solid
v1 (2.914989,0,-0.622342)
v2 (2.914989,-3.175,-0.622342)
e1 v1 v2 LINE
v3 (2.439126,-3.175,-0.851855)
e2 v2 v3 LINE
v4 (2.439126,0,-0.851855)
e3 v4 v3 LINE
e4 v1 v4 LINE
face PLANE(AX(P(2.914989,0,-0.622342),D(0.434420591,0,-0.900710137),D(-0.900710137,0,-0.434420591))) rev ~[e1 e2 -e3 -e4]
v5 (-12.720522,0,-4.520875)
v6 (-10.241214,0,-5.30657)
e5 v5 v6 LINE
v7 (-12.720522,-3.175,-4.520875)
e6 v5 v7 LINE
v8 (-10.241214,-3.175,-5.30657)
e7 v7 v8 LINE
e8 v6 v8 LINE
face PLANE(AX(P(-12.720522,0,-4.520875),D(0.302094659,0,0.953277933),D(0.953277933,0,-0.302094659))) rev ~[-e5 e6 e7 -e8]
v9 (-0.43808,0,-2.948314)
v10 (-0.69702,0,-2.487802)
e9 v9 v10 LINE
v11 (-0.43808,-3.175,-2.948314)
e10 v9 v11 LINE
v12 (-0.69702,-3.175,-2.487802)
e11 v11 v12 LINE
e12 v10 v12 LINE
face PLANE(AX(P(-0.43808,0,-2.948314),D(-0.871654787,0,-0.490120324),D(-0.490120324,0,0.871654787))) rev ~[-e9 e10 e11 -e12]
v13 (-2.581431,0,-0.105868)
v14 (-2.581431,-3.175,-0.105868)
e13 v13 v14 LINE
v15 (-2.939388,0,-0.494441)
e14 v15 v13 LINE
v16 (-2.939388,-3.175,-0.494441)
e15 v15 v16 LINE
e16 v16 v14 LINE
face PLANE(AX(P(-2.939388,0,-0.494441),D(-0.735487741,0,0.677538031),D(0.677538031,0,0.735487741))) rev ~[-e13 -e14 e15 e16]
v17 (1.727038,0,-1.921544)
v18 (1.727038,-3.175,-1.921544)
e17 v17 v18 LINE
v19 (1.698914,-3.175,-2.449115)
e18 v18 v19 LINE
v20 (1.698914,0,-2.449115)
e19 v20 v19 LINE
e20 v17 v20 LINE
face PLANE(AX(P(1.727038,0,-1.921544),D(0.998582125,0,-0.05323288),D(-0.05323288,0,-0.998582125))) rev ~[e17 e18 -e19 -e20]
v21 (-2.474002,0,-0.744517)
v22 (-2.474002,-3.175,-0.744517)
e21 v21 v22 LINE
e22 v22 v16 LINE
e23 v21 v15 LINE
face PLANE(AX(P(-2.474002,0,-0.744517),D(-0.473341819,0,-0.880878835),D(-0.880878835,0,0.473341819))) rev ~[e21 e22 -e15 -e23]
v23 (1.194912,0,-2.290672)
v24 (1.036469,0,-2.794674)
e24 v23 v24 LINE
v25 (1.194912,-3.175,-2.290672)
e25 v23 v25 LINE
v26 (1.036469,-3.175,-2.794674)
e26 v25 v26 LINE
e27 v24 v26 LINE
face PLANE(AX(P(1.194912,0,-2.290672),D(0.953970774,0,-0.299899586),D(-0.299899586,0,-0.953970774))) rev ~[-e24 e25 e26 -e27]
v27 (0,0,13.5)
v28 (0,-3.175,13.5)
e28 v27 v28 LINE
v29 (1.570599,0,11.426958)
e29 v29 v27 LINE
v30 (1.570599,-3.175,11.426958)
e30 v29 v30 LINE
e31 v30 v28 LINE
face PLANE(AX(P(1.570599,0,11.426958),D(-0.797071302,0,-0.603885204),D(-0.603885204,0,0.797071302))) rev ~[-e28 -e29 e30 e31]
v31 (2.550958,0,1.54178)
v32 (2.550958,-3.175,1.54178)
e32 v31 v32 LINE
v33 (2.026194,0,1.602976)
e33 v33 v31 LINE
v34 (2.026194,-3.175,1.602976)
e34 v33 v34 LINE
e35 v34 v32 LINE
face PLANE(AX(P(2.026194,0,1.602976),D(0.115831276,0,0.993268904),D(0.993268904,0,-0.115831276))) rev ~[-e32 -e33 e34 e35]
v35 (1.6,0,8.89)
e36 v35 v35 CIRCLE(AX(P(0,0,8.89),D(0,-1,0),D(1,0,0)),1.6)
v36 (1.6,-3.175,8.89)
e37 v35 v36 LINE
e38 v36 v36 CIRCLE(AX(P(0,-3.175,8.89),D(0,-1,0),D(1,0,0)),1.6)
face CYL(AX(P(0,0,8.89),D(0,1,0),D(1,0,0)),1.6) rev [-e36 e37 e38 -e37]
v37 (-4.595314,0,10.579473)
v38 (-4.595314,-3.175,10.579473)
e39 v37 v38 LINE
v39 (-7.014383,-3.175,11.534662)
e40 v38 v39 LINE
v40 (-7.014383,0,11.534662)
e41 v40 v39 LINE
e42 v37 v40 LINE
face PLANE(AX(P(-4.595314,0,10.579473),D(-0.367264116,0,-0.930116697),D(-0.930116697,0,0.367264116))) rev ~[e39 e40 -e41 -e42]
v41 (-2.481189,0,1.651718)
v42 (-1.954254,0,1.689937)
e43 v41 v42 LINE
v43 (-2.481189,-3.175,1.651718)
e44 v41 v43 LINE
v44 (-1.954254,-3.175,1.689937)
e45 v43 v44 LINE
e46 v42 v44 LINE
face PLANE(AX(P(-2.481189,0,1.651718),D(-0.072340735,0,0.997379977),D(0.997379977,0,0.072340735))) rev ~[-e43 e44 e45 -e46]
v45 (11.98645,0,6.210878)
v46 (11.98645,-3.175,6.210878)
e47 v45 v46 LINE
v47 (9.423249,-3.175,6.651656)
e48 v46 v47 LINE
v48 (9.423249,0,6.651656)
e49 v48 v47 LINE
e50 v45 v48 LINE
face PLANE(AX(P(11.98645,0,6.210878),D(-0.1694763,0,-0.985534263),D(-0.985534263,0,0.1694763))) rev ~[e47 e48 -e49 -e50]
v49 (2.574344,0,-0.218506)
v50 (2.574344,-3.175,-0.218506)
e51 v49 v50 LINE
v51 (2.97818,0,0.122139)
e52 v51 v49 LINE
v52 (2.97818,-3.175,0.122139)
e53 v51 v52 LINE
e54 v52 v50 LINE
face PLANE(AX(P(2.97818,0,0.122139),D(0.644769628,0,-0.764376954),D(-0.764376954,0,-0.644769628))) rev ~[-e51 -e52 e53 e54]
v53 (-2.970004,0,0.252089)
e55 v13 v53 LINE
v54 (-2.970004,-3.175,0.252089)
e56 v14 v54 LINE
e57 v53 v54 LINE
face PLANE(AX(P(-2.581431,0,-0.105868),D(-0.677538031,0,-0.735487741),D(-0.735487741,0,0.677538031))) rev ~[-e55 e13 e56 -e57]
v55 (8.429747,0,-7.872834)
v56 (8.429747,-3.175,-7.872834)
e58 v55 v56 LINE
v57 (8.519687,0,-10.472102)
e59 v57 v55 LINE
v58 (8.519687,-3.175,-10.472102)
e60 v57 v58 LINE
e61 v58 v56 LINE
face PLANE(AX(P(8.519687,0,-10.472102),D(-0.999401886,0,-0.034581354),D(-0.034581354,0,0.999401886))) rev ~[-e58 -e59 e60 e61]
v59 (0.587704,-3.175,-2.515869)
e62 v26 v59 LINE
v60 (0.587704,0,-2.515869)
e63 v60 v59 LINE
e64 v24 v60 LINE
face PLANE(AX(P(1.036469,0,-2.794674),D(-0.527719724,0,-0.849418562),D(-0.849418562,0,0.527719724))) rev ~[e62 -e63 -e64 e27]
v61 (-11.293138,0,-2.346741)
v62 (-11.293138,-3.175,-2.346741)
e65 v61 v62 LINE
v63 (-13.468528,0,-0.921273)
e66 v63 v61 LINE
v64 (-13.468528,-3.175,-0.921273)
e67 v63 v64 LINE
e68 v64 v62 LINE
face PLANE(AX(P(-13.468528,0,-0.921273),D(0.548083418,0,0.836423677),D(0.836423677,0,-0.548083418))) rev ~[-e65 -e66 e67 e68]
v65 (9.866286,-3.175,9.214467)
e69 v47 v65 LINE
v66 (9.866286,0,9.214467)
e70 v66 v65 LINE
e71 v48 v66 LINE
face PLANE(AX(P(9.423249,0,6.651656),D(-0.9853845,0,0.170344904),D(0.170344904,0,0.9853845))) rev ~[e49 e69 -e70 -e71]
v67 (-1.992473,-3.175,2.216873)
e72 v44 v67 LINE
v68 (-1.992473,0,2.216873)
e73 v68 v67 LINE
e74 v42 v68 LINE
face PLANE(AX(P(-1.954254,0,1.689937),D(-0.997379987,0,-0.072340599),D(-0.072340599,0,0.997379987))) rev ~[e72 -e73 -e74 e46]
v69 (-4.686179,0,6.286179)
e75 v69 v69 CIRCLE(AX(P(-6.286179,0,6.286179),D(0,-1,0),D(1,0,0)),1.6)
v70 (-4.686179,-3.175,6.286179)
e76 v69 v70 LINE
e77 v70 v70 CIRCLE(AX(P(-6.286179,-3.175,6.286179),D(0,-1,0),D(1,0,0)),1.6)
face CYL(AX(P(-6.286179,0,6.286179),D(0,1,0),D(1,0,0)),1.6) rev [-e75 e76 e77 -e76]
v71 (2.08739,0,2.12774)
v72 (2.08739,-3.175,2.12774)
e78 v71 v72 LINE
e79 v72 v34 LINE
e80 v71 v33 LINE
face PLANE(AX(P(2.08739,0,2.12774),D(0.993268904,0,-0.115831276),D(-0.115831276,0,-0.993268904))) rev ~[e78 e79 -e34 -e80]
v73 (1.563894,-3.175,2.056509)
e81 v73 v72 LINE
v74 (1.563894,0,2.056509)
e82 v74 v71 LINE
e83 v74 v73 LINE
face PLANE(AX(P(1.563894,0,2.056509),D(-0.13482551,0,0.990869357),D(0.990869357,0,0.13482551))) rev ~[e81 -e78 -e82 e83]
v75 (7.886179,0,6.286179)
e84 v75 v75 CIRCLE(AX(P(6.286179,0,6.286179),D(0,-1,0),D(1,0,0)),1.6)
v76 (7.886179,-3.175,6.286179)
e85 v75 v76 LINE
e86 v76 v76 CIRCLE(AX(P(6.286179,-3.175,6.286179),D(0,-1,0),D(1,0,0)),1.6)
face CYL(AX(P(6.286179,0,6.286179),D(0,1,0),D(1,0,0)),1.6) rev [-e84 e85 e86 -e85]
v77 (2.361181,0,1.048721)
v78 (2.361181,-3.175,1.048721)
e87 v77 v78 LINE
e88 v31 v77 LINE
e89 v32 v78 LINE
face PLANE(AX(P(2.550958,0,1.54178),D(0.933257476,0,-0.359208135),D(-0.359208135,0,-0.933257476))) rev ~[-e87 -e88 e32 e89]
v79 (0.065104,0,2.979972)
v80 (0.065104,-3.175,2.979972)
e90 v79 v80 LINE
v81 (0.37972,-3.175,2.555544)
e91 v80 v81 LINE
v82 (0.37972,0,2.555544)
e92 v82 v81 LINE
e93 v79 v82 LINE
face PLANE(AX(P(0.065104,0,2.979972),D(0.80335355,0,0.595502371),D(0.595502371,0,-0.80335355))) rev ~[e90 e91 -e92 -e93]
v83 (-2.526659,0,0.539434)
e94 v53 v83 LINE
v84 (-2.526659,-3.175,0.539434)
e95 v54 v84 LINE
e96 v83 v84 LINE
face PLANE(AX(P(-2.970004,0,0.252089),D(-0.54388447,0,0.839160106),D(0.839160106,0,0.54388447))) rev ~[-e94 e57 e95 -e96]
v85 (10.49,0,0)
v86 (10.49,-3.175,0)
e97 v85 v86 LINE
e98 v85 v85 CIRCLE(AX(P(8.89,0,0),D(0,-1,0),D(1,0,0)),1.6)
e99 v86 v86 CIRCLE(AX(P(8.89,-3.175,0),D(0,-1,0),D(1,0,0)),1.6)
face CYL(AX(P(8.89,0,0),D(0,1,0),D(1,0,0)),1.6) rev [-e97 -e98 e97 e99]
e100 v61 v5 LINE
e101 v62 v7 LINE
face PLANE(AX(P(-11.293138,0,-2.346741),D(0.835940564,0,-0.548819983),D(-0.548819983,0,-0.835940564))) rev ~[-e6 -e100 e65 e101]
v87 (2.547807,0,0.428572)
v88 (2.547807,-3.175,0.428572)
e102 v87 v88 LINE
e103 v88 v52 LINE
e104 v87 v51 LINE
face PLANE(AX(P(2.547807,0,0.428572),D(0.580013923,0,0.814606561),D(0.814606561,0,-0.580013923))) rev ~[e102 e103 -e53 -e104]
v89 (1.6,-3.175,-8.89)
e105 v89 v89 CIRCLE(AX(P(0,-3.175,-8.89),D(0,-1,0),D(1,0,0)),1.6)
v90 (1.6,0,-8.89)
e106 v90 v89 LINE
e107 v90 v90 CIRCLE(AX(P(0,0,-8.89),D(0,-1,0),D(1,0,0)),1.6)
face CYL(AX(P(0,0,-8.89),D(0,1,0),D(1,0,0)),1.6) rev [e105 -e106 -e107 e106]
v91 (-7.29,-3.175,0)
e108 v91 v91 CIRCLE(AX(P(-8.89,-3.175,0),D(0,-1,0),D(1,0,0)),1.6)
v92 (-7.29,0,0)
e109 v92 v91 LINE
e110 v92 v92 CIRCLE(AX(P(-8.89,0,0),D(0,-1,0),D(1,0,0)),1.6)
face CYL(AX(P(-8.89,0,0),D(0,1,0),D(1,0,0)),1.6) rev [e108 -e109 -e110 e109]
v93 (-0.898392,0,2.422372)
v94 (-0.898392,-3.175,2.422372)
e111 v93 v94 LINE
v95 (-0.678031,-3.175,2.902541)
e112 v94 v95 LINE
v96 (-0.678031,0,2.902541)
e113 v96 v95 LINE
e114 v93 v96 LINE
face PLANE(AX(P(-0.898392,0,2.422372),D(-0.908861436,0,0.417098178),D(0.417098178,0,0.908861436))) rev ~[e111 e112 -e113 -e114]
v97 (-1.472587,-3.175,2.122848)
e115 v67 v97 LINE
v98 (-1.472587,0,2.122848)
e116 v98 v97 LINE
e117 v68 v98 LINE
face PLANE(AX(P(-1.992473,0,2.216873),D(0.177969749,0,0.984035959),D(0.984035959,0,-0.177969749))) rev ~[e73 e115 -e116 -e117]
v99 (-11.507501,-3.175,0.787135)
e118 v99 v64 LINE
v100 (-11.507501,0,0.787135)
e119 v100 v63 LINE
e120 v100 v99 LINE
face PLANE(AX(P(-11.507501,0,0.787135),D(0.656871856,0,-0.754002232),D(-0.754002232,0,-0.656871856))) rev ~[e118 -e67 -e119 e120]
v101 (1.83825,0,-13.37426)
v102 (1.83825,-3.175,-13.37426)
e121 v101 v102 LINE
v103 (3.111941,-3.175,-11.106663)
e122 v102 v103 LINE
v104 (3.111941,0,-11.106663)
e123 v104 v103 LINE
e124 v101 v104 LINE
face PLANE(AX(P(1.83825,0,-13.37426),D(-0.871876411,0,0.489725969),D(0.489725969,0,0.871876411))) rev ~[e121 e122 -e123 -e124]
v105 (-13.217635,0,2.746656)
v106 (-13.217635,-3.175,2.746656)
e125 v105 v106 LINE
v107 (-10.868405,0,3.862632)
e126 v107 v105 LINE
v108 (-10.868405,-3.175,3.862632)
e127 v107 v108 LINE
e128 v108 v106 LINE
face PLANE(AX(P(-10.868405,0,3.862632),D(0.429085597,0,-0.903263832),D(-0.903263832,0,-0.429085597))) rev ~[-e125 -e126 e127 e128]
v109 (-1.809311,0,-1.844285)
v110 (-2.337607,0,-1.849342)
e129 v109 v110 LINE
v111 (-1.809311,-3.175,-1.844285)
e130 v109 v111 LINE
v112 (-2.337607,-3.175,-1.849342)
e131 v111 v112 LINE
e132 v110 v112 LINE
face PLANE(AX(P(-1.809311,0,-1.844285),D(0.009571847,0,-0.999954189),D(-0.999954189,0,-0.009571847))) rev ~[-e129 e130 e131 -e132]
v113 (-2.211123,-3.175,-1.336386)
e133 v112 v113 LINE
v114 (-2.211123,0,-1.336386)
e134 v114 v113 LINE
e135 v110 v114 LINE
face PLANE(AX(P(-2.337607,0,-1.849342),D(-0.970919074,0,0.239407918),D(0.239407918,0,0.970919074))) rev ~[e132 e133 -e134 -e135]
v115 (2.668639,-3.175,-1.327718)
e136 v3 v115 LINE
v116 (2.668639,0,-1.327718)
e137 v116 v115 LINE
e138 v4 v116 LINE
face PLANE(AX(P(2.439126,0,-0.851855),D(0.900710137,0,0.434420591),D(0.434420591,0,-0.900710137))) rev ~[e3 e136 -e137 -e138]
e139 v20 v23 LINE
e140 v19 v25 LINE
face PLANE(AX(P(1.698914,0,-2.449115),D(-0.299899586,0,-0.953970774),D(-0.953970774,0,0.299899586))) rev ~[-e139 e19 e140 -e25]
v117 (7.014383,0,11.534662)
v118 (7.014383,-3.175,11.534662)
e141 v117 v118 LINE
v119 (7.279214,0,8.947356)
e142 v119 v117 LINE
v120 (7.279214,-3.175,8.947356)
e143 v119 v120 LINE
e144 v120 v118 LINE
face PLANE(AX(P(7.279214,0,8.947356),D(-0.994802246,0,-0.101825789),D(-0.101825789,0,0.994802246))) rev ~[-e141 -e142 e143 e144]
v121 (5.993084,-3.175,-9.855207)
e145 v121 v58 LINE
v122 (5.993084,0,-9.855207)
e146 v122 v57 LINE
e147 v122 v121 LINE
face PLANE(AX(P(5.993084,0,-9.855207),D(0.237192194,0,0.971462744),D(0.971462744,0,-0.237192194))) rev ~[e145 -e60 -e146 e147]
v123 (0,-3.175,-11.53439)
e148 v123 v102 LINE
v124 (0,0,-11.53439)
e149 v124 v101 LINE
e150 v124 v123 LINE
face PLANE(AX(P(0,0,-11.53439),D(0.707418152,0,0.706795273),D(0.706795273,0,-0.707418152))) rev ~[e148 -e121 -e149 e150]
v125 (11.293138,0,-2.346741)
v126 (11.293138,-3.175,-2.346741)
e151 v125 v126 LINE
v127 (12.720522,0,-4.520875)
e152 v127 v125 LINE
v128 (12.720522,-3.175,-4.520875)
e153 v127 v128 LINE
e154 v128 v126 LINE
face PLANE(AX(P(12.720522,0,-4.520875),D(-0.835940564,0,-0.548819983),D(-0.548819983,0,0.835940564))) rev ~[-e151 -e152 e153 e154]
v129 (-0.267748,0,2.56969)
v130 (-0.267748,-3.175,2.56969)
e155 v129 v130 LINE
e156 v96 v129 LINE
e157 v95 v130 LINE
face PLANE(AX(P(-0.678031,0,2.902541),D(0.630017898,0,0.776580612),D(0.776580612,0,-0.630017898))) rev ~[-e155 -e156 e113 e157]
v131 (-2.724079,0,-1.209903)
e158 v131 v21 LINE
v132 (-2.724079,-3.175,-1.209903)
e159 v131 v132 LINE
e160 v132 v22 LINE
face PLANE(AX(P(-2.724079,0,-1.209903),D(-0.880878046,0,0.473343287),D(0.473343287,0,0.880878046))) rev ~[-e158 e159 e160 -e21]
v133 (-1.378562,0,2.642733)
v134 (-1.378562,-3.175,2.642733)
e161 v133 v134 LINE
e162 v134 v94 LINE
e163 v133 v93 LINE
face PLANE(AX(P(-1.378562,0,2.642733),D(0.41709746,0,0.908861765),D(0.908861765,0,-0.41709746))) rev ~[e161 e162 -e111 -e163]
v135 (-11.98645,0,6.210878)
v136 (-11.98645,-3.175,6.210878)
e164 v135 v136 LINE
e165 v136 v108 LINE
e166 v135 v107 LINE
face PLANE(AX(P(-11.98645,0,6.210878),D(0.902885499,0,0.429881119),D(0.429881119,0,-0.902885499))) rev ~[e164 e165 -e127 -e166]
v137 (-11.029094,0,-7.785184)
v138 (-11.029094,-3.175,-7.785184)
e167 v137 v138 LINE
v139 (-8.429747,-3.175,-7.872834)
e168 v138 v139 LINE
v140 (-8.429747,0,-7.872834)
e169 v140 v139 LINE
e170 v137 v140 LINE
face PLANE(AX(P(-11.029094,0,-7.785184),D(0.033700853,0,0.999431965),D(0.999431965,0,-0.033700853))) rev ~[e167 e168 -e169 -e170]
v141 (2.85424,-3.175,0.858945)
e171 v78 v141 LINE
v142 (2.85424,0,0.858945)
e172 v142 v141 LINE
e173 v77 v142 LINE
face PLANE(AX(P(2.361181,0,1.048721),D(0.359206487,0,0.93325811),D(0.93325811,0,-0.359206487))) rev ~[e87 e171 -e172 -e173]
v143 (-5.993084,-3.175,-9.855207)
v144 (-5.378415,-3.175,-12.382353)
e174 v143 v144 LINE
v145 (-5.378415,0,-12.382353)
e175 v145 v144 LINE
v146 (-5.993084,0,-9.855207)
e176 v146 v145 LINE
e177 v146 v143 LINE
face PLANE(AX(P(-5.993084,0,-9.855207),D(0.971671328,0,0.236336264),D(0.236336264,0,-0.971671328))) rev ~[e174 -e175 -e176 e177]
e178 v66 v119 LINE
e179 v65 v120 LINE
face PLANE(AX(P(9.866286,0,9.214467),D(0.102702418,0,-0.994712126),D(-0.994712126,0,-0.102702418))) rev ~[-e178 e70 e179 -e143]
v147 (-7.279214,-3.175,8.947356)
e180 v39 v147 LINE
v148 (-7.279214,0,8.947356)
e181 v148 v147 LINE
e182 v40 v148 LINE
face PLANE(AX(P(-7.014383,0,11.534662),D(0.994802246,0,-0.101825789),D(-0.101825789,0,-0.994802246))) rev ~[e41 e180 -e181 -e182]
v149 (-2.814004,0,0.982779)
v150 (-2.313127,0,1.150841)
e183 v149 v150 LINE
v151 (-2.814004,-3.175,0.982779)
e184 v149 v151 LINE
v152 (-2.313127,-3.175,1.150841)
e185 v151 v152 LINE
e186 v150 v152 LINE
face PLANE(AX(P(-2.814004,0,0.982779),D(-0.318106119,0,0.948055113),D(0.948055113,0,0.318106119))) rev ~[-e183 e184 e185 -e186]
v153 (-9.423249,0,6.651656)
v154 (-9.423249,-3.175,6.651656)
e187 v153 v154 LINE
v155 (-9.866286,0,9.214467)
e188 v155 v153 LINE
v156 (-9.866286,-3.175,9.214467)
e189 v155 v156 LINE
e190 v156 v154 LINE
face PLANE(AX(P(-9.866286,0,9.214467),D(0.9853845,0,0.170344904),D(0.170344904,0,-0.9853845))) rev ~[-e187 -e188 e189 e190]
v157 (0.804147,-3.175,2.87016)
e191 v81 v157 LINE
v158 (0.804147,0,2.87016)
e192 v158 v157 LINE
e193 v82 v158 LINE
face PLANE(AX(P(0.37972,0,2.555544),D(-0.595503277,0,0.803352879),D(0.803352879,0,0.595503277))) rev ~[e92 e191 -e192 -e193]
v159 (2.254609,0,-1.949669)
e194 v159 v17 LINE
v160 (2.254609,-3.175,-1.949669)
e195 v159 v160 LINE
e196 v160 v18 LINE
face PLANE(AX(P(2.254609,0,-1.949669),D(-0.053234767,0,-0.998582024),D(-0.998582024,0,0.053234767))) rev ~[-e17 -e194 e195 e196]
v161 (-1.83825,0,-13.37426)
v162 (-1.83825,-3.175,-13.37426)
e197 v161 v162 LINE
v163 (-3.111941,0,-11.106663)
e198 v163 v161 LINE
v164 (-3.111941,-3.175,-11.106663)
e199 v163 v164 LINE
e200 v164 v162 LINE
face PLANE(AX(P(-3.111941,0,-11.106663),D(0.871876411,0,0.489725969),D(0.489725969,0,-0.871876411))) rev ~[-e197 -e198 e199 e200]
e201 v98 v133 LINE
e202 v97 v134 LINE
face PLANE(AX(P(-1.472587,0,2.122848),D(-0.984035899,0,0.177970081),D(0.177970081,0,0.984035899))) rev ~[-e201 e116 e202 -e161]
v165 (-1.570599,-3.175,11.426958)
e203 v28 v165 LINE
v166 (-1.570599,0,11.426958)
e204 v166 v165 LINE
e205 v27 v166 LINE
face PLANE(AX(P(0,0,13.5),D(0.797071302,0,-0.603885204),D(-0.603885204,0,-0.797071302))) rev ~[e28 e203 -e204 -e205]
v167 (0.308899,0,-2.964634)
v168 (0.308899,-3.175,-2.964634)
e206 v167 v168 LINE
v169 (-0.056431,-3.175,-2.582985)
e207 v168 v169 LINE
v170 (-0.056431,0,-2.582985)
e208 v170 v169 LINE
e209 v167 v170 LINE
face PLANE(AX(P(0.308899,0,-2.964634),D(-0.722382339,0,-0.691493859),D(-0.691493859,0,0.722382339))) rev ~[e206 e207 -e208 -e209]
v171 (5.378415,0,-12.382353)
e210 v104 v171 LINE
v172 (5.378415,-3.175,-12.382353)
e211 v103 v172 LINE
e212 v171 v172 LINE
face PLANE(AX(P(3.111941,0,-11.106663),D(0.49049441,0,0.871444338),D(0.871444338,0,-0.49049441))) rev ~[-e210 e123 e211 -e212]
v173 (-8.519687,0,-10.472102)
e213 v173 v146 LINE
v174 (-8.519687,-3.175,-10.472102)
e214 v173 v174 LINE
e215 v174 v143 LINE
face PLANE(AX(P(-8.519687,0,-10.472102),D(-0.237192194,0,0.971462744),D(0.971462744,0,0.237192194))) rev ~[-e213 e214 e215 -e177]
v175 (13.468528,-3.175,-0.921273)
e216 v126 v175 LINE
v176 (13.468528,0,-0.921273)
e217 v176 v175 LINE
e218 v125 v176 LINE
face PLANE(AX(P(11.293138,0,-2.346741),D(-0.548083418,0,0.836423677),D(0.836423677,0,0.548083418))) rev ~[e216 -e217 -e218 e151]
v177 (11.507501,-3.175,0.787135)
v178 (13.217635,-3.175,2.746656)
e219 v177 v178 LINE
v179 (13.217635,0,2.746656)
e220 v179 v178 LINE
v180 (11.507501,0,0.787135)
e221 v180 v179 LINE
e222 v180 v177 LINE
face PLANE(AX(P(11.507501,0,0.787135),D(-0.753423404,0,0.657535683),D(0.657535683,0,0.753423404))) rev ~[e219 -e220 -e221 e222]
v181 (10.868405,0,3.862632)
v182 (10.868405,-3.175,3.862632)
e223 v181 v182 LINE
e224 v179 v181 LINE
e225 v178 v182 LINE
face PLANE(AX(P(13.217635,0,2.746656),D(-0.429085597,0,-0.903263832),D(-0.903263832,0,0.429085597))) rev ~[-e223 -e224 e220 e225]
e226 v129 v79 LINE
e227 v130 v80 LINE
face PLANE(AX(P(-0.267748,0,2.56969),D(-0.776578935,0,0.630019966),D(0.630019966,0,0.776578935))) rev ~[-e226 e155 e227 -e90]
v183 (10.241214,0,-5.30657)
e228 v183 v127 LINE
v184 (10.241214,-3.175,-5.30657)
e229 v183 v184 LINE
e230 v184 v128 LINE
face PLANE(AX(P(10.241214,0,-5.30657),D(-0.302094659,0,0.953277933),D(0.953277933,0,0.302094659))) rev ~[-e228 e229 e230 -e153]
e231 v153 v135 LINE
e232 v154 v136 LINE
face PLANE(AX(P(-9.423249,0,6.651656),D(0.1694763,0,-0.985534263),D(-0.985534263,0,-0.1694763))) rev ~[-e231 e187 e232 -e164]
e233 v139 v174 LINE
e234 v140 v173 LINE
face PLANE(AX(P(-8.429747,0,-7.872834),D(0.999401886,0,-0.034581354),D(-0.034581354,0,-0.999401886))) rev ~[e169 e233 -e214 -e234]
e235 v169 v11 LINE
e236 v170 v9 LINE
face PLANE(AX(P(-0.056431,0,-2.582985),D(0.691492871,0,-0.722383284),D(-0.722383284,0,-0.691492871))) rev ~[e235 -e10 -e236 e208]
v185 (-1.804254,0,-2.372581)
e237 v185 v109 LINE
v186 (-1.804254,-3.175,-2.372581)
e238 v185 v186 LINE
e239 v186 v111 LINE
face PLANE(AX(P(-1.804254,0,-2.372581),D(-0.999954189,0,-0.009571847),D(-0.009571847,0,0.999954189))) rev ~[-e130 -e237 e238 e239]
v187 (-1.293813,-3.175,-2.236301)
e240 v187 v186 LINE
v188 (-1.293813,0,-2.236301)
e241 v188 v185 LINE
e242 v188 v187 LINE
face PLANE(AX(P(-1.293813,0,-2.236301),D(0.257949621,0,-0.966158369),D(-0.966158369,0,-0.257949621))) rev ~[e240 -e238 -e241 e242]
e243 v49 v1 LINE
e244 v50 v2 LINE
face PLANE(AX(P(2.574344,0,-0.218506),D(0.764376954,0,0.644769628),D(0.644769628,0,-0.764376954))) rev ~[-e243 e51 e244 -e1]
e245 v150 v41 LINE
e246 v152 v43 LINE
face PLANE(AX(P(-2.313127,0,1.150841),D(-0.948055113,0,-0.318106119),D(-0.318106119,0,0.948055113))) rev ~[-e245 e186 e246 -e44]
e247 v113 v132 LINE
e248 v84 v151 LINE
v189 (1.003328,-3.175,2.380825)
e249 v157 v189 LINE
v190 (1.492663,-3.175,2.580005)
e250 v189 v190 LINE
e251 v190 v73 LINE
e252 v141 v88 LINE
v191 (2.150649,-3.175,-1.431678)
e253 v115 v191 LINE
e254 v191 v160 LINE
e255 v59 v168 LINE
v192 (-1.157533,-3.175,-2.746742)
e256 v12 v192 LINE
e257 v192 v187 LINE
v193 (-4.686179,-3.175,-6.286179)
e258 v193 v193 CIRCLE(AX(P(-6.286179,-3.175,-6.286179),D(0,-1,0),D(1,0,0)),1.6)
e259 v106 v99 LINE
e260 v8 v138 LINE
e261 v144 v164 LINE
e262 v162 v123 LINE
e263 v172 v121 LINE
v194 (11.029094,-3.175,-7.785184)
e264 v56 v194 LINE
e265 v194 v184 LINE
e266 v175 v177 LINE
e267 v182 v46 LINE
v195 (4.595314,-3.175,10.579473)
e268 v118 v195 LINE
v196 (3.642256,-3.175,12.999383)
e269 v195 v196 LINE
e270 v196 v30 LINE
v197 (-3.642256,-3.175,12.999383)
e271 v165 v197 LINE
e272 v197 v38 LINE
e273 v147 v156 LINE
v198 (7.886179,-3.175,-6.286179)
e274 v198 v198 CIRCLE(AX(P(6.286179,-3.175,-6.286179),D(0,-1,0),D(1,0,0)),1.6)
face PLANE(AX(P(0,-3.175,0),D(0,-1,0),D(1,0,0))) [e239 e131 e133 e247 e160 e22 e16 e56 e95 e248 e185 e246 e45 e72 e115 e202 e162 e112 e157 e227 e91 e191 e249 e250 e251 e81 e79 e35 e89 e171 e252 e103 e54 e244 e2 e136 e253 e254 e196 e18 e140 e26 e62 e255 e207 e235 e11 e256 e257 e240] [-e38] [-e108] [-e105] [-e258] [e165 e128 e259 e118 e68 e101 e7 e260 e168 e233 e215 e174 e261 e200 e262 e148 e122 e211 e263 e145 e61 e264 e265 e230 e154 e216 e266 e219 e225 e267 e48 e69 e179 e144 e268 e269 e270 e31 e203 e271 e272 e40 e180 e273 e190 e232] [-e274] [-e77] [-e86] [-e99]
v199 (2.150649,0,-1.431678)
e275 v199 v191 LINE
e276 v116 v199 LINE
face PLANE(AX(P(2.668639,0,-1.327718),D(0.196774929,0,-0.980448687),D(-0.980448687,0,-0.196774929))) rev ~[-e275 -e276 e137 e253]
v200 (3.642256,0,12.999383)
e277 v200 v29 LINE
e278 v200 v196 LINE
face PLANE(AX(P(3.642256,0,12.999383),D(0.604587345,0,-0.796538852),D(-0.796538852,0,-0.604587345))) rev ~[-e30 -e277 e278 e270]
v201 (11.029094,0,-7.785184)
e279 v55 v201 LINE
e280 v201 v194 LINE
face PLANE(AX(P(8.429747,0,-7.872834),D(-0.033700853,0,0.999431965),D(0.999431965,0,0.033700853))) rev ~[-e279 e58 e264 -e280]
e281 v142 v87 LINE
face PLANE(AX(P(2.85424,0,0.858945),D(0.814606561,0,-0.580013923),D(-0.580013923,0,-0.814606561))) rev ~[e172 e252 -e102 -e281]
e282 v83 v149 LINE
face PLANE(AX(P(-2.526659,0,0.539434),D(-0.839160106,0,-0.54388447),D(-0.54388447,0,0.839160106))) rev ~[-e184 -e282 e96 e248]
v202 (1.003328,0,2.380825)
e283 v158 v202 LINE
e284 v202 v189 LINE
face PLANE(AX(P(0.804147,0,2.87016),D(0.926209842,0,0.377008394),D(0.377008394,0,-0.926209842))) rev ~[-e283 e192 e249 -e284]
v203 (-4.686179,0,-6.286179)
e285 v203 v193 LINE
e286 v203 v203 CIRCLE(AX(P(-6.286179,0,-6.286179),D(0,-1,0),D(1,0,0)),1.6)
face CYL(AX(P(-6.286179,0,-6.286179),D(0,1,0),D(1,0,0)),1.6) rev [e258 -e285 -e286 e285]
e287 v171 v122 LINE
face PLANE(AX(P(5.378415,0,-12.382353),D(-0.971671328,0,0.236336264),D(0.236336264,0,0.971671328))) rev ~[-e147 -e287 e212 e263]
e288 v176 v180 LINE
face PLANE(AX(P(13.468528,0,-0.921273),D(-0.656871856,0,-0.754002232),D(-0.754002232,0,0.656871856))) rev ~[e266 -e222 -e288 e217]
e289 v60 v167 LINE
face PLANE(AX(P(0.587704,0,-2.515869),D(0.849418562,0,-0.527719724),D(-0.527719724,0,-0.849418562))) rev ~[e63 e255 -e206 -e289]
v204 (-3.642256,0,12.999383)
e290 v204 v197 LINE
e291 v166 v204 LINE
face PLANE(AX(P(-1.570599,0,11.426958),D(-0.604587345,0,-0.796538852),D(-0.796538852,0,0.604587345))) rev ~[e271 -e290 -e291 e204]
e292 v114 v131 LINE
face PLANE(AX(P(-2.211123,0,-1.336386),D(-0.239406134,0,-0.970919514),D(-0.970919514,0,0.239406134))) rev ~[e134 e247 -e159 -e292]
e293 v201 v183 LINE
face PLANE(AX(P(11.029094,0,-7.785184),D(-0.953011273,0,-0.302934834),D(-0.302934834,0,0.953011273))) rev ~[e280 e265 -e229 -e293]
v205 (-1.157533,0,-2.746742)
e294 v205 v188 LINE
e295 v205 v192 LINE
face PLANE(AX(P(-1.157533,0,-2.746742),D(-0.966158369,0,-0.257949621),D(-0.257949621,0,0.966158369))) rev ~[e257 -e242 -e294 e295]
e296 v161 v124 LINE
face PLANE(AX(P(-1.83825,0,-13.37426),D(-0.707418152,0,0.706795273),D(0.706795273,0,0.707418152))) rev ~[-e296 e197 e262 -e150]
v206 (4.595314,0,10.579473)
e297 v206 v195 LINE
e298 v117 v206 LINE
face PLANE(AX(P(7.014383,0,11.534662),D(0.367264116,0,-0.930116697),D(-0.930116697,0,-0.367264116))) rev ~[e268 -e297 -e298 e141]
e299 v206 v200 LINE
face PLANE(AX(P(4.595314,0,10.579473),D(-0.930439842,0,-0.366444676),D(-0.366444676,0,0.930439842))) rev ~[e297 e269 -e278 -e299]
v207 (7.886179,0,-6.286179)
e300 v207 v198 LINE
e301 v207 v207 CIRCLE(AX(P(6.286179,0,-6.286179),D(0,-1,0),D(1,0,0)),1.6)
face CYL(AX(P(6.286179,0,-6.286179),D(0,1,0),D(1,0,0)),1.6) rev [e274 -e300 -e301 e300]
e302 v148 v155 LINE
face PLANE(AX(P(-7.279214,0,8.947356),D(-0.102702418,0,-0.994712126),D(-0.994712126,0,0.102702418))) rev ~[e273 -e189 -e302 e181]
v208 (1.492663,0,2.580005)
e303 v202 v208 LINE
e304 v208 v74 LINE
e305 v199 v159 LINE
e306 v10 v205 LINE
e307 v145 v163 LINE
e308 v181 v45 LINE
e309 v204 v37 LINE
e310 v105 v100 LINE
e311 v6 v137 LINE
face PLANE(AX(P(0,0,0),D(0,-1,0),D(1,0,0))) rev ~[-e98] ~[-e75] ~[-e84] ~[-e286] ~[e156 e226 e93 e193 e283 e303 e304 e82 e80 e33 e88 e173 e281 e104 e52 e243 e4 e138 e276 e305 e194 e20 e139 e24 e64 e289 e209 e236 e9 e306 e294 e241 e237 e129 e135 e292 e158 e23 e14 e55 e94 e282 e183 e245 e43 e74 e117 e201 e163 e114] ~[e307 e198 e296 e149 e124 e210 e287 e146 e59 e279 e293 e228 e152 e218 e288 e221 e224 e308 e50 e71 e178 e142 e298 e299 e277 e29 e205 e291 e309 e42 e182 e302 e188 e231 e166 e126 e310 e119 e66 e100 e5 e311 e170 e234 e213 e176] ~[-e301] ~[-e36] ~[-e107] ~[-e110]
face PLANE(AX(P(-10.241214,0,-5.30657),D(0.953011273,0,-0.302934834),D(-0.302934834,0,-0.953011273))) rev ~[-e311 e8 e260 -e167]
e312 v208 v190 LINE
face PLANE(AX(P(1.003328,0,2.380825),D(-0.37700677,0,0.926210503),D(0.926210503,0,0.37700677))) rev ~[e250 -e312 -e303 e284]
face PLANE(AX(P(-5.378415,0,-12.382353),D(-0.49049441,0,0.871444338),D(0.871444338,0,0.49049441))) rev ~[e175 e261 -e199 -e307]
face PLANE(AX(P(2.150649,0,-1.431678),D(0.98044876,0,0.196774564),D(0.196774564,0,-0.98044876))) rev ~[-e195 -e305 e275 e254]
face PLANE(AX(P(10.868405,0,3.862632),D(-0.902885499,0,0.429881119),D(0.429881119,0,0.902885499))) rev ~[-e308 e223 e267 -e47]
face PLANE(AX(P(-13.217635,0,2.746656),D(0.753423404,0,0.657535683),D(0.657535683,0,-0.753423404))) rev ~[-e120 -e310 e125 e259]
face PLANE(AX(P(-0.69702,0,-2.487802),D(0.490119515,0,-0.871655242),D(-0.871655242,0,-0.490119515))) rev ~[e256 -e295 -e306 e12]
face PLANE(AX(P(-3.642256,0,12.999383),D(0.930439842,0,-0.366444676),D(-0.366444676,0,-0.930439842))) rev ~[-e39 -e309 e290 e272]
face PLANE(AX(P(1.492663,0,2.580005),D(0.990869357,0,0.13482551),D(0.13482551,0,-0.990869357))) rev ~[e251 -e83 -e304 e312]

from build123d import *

# Parameters (mm, degrees)
F0_R     = 1.6
F1_DEPTH = 3.175


with BuildPart() as f1:
    # F0 (on Front) → F1 (new body)
    with BuildSketch(Plane.XZ):
        Polygon((1.570599, 11.426958), (0, 13.5), (-1.570599, 11.426958), (-3.642256, 12.999383), (-4.595314, 10.579473), (-7.014383, 11.534662), (-7.279214, 8.947356), (-9.866286, 9.214467), (-9.423249, 6.651656), (-11.98645, 6.210878), (-10.868405, 3.862632), (-13.217635, 2.746656), (-11.507501, 0.787135), (-13.468528, -0.921273), (-11.293138, -2.346741), (-12.720522, -4.520875), (-10.241214, -5.30657), (-11.029094, -7.785184), (-8.429747, -7.872834), (-8.519687, -10.472102), (-5.993084, -9.855207), (-5.378415, -12.382353), (-3.111941, -11.106663), (-1.83825, -13.37426), (0, -11.53439), (1.83825, -13.37426), (3.111941, -11.106663), (5.378415, -12.382353), (5.993084, -9.855207), (8.519687, -10.472102), (8.429747, -7.872834), (11.029094, -7.785184), (10.241214, -5.30657), (12.720522, -4.520875), (11.293138, -2.346741), (13.468528, -0.921273), (11.507501, 0.787135), (13.217635, 2.746656), (10.868405, 3.862632), (11.98645, 6.210878), (9.423249, 6.651656), (9.866286, 9.214467), (7.279214, 8.947356), (7.014383, 11.534662), (4.595314, 10.579473), (3.642256, 12.999383), align=None)
        with Locations((-8.89, 0)):
            Circle(F0_R, mode=Mode.SUBTRACT)
        with Locations((-6.286179, -6.286179)):
            Circle(F0_R, mode=Mode.SUBTRACT)
        with Locations((0, -8.89)):
            Circle(F0_R, mode=Mode.SUBTRACT)
        with Locations((6.286179, -6.286179)):
            Circle(F0_R, mode=Mode.SUBTRACT)
        Polygon((-2.313127, 1.150841), (-2.481189, 1.651718), (-1.954254, 1.689937), (-1.992473, 2.216873), (-1.472587, 2.122848), (-1.378562, 2.642733), (-0.898392, 2.422372), (-0.678031, 2.902541), (-0.267748, 2.56969), (0.065104, 2.979972), (0.37972, 2.555544), (0.804147, 2.87016), (1.003328, 2.380825), (1.492663, 2.580005), (1.563894, 2.056509), (2.08739, 2.12774), (2.026194, 1.602976), (2.550958, 1.54178), (2.361181, 1.048721), (2.85424, 0.858945), (2.547807, 0.428572), (2.97818, 0.122139), (2.574344, -0.218506), (2.914989, -0.622342), (2.439126, -0.851855), (2.668639, -1.327718), (2.150649, -1.431678), (2.254609, -1.949669), (1.727038, -1.921544), (1.698914, -2.449115), (1.194912, -2.290672), (1.036469, -2.794674), (0.587704, -2.515869), (0.308899, -2.964634), (-0.056431, -2.582985), (-0.43808, -2.948314), (-0.69702, -2.487802), (-1.157533, -2.746742), (-1.293813, -2.236301), (-1.804254, -2.372581), (-1.809311, -1.844285), (-2.337607, -1.849342), (-2.211123, -1.336386), (-2.724079, -1.209903), (-2.474002, -0.744517), (-2.939388, -0.494441), (-2.581431, -0.105868), (-2.970004, 0.252089), (-2.526659, 0.539434), (-2.814004, 0.982779), align=None, mode=Mode.SUBTRACT)
        with Locations((8.89, 0)):
            Circle(F0_R, mode=Mode.SUBTRACT)
        with Locations((-6.286179, 6.286179)):
            Circle(F0_R, mode=Mode.SUBTRACT)
        with Locations((6.286179, 6.286179)):
            Circle(F0_R, mode=Mode.SUBTRACT)
        with Locations((0, 8.89)):
            Circle(F0_R, mode=Mode.SUBTRACT)
    extrude(amount=F1_DEPTH)


solid = f1.part
